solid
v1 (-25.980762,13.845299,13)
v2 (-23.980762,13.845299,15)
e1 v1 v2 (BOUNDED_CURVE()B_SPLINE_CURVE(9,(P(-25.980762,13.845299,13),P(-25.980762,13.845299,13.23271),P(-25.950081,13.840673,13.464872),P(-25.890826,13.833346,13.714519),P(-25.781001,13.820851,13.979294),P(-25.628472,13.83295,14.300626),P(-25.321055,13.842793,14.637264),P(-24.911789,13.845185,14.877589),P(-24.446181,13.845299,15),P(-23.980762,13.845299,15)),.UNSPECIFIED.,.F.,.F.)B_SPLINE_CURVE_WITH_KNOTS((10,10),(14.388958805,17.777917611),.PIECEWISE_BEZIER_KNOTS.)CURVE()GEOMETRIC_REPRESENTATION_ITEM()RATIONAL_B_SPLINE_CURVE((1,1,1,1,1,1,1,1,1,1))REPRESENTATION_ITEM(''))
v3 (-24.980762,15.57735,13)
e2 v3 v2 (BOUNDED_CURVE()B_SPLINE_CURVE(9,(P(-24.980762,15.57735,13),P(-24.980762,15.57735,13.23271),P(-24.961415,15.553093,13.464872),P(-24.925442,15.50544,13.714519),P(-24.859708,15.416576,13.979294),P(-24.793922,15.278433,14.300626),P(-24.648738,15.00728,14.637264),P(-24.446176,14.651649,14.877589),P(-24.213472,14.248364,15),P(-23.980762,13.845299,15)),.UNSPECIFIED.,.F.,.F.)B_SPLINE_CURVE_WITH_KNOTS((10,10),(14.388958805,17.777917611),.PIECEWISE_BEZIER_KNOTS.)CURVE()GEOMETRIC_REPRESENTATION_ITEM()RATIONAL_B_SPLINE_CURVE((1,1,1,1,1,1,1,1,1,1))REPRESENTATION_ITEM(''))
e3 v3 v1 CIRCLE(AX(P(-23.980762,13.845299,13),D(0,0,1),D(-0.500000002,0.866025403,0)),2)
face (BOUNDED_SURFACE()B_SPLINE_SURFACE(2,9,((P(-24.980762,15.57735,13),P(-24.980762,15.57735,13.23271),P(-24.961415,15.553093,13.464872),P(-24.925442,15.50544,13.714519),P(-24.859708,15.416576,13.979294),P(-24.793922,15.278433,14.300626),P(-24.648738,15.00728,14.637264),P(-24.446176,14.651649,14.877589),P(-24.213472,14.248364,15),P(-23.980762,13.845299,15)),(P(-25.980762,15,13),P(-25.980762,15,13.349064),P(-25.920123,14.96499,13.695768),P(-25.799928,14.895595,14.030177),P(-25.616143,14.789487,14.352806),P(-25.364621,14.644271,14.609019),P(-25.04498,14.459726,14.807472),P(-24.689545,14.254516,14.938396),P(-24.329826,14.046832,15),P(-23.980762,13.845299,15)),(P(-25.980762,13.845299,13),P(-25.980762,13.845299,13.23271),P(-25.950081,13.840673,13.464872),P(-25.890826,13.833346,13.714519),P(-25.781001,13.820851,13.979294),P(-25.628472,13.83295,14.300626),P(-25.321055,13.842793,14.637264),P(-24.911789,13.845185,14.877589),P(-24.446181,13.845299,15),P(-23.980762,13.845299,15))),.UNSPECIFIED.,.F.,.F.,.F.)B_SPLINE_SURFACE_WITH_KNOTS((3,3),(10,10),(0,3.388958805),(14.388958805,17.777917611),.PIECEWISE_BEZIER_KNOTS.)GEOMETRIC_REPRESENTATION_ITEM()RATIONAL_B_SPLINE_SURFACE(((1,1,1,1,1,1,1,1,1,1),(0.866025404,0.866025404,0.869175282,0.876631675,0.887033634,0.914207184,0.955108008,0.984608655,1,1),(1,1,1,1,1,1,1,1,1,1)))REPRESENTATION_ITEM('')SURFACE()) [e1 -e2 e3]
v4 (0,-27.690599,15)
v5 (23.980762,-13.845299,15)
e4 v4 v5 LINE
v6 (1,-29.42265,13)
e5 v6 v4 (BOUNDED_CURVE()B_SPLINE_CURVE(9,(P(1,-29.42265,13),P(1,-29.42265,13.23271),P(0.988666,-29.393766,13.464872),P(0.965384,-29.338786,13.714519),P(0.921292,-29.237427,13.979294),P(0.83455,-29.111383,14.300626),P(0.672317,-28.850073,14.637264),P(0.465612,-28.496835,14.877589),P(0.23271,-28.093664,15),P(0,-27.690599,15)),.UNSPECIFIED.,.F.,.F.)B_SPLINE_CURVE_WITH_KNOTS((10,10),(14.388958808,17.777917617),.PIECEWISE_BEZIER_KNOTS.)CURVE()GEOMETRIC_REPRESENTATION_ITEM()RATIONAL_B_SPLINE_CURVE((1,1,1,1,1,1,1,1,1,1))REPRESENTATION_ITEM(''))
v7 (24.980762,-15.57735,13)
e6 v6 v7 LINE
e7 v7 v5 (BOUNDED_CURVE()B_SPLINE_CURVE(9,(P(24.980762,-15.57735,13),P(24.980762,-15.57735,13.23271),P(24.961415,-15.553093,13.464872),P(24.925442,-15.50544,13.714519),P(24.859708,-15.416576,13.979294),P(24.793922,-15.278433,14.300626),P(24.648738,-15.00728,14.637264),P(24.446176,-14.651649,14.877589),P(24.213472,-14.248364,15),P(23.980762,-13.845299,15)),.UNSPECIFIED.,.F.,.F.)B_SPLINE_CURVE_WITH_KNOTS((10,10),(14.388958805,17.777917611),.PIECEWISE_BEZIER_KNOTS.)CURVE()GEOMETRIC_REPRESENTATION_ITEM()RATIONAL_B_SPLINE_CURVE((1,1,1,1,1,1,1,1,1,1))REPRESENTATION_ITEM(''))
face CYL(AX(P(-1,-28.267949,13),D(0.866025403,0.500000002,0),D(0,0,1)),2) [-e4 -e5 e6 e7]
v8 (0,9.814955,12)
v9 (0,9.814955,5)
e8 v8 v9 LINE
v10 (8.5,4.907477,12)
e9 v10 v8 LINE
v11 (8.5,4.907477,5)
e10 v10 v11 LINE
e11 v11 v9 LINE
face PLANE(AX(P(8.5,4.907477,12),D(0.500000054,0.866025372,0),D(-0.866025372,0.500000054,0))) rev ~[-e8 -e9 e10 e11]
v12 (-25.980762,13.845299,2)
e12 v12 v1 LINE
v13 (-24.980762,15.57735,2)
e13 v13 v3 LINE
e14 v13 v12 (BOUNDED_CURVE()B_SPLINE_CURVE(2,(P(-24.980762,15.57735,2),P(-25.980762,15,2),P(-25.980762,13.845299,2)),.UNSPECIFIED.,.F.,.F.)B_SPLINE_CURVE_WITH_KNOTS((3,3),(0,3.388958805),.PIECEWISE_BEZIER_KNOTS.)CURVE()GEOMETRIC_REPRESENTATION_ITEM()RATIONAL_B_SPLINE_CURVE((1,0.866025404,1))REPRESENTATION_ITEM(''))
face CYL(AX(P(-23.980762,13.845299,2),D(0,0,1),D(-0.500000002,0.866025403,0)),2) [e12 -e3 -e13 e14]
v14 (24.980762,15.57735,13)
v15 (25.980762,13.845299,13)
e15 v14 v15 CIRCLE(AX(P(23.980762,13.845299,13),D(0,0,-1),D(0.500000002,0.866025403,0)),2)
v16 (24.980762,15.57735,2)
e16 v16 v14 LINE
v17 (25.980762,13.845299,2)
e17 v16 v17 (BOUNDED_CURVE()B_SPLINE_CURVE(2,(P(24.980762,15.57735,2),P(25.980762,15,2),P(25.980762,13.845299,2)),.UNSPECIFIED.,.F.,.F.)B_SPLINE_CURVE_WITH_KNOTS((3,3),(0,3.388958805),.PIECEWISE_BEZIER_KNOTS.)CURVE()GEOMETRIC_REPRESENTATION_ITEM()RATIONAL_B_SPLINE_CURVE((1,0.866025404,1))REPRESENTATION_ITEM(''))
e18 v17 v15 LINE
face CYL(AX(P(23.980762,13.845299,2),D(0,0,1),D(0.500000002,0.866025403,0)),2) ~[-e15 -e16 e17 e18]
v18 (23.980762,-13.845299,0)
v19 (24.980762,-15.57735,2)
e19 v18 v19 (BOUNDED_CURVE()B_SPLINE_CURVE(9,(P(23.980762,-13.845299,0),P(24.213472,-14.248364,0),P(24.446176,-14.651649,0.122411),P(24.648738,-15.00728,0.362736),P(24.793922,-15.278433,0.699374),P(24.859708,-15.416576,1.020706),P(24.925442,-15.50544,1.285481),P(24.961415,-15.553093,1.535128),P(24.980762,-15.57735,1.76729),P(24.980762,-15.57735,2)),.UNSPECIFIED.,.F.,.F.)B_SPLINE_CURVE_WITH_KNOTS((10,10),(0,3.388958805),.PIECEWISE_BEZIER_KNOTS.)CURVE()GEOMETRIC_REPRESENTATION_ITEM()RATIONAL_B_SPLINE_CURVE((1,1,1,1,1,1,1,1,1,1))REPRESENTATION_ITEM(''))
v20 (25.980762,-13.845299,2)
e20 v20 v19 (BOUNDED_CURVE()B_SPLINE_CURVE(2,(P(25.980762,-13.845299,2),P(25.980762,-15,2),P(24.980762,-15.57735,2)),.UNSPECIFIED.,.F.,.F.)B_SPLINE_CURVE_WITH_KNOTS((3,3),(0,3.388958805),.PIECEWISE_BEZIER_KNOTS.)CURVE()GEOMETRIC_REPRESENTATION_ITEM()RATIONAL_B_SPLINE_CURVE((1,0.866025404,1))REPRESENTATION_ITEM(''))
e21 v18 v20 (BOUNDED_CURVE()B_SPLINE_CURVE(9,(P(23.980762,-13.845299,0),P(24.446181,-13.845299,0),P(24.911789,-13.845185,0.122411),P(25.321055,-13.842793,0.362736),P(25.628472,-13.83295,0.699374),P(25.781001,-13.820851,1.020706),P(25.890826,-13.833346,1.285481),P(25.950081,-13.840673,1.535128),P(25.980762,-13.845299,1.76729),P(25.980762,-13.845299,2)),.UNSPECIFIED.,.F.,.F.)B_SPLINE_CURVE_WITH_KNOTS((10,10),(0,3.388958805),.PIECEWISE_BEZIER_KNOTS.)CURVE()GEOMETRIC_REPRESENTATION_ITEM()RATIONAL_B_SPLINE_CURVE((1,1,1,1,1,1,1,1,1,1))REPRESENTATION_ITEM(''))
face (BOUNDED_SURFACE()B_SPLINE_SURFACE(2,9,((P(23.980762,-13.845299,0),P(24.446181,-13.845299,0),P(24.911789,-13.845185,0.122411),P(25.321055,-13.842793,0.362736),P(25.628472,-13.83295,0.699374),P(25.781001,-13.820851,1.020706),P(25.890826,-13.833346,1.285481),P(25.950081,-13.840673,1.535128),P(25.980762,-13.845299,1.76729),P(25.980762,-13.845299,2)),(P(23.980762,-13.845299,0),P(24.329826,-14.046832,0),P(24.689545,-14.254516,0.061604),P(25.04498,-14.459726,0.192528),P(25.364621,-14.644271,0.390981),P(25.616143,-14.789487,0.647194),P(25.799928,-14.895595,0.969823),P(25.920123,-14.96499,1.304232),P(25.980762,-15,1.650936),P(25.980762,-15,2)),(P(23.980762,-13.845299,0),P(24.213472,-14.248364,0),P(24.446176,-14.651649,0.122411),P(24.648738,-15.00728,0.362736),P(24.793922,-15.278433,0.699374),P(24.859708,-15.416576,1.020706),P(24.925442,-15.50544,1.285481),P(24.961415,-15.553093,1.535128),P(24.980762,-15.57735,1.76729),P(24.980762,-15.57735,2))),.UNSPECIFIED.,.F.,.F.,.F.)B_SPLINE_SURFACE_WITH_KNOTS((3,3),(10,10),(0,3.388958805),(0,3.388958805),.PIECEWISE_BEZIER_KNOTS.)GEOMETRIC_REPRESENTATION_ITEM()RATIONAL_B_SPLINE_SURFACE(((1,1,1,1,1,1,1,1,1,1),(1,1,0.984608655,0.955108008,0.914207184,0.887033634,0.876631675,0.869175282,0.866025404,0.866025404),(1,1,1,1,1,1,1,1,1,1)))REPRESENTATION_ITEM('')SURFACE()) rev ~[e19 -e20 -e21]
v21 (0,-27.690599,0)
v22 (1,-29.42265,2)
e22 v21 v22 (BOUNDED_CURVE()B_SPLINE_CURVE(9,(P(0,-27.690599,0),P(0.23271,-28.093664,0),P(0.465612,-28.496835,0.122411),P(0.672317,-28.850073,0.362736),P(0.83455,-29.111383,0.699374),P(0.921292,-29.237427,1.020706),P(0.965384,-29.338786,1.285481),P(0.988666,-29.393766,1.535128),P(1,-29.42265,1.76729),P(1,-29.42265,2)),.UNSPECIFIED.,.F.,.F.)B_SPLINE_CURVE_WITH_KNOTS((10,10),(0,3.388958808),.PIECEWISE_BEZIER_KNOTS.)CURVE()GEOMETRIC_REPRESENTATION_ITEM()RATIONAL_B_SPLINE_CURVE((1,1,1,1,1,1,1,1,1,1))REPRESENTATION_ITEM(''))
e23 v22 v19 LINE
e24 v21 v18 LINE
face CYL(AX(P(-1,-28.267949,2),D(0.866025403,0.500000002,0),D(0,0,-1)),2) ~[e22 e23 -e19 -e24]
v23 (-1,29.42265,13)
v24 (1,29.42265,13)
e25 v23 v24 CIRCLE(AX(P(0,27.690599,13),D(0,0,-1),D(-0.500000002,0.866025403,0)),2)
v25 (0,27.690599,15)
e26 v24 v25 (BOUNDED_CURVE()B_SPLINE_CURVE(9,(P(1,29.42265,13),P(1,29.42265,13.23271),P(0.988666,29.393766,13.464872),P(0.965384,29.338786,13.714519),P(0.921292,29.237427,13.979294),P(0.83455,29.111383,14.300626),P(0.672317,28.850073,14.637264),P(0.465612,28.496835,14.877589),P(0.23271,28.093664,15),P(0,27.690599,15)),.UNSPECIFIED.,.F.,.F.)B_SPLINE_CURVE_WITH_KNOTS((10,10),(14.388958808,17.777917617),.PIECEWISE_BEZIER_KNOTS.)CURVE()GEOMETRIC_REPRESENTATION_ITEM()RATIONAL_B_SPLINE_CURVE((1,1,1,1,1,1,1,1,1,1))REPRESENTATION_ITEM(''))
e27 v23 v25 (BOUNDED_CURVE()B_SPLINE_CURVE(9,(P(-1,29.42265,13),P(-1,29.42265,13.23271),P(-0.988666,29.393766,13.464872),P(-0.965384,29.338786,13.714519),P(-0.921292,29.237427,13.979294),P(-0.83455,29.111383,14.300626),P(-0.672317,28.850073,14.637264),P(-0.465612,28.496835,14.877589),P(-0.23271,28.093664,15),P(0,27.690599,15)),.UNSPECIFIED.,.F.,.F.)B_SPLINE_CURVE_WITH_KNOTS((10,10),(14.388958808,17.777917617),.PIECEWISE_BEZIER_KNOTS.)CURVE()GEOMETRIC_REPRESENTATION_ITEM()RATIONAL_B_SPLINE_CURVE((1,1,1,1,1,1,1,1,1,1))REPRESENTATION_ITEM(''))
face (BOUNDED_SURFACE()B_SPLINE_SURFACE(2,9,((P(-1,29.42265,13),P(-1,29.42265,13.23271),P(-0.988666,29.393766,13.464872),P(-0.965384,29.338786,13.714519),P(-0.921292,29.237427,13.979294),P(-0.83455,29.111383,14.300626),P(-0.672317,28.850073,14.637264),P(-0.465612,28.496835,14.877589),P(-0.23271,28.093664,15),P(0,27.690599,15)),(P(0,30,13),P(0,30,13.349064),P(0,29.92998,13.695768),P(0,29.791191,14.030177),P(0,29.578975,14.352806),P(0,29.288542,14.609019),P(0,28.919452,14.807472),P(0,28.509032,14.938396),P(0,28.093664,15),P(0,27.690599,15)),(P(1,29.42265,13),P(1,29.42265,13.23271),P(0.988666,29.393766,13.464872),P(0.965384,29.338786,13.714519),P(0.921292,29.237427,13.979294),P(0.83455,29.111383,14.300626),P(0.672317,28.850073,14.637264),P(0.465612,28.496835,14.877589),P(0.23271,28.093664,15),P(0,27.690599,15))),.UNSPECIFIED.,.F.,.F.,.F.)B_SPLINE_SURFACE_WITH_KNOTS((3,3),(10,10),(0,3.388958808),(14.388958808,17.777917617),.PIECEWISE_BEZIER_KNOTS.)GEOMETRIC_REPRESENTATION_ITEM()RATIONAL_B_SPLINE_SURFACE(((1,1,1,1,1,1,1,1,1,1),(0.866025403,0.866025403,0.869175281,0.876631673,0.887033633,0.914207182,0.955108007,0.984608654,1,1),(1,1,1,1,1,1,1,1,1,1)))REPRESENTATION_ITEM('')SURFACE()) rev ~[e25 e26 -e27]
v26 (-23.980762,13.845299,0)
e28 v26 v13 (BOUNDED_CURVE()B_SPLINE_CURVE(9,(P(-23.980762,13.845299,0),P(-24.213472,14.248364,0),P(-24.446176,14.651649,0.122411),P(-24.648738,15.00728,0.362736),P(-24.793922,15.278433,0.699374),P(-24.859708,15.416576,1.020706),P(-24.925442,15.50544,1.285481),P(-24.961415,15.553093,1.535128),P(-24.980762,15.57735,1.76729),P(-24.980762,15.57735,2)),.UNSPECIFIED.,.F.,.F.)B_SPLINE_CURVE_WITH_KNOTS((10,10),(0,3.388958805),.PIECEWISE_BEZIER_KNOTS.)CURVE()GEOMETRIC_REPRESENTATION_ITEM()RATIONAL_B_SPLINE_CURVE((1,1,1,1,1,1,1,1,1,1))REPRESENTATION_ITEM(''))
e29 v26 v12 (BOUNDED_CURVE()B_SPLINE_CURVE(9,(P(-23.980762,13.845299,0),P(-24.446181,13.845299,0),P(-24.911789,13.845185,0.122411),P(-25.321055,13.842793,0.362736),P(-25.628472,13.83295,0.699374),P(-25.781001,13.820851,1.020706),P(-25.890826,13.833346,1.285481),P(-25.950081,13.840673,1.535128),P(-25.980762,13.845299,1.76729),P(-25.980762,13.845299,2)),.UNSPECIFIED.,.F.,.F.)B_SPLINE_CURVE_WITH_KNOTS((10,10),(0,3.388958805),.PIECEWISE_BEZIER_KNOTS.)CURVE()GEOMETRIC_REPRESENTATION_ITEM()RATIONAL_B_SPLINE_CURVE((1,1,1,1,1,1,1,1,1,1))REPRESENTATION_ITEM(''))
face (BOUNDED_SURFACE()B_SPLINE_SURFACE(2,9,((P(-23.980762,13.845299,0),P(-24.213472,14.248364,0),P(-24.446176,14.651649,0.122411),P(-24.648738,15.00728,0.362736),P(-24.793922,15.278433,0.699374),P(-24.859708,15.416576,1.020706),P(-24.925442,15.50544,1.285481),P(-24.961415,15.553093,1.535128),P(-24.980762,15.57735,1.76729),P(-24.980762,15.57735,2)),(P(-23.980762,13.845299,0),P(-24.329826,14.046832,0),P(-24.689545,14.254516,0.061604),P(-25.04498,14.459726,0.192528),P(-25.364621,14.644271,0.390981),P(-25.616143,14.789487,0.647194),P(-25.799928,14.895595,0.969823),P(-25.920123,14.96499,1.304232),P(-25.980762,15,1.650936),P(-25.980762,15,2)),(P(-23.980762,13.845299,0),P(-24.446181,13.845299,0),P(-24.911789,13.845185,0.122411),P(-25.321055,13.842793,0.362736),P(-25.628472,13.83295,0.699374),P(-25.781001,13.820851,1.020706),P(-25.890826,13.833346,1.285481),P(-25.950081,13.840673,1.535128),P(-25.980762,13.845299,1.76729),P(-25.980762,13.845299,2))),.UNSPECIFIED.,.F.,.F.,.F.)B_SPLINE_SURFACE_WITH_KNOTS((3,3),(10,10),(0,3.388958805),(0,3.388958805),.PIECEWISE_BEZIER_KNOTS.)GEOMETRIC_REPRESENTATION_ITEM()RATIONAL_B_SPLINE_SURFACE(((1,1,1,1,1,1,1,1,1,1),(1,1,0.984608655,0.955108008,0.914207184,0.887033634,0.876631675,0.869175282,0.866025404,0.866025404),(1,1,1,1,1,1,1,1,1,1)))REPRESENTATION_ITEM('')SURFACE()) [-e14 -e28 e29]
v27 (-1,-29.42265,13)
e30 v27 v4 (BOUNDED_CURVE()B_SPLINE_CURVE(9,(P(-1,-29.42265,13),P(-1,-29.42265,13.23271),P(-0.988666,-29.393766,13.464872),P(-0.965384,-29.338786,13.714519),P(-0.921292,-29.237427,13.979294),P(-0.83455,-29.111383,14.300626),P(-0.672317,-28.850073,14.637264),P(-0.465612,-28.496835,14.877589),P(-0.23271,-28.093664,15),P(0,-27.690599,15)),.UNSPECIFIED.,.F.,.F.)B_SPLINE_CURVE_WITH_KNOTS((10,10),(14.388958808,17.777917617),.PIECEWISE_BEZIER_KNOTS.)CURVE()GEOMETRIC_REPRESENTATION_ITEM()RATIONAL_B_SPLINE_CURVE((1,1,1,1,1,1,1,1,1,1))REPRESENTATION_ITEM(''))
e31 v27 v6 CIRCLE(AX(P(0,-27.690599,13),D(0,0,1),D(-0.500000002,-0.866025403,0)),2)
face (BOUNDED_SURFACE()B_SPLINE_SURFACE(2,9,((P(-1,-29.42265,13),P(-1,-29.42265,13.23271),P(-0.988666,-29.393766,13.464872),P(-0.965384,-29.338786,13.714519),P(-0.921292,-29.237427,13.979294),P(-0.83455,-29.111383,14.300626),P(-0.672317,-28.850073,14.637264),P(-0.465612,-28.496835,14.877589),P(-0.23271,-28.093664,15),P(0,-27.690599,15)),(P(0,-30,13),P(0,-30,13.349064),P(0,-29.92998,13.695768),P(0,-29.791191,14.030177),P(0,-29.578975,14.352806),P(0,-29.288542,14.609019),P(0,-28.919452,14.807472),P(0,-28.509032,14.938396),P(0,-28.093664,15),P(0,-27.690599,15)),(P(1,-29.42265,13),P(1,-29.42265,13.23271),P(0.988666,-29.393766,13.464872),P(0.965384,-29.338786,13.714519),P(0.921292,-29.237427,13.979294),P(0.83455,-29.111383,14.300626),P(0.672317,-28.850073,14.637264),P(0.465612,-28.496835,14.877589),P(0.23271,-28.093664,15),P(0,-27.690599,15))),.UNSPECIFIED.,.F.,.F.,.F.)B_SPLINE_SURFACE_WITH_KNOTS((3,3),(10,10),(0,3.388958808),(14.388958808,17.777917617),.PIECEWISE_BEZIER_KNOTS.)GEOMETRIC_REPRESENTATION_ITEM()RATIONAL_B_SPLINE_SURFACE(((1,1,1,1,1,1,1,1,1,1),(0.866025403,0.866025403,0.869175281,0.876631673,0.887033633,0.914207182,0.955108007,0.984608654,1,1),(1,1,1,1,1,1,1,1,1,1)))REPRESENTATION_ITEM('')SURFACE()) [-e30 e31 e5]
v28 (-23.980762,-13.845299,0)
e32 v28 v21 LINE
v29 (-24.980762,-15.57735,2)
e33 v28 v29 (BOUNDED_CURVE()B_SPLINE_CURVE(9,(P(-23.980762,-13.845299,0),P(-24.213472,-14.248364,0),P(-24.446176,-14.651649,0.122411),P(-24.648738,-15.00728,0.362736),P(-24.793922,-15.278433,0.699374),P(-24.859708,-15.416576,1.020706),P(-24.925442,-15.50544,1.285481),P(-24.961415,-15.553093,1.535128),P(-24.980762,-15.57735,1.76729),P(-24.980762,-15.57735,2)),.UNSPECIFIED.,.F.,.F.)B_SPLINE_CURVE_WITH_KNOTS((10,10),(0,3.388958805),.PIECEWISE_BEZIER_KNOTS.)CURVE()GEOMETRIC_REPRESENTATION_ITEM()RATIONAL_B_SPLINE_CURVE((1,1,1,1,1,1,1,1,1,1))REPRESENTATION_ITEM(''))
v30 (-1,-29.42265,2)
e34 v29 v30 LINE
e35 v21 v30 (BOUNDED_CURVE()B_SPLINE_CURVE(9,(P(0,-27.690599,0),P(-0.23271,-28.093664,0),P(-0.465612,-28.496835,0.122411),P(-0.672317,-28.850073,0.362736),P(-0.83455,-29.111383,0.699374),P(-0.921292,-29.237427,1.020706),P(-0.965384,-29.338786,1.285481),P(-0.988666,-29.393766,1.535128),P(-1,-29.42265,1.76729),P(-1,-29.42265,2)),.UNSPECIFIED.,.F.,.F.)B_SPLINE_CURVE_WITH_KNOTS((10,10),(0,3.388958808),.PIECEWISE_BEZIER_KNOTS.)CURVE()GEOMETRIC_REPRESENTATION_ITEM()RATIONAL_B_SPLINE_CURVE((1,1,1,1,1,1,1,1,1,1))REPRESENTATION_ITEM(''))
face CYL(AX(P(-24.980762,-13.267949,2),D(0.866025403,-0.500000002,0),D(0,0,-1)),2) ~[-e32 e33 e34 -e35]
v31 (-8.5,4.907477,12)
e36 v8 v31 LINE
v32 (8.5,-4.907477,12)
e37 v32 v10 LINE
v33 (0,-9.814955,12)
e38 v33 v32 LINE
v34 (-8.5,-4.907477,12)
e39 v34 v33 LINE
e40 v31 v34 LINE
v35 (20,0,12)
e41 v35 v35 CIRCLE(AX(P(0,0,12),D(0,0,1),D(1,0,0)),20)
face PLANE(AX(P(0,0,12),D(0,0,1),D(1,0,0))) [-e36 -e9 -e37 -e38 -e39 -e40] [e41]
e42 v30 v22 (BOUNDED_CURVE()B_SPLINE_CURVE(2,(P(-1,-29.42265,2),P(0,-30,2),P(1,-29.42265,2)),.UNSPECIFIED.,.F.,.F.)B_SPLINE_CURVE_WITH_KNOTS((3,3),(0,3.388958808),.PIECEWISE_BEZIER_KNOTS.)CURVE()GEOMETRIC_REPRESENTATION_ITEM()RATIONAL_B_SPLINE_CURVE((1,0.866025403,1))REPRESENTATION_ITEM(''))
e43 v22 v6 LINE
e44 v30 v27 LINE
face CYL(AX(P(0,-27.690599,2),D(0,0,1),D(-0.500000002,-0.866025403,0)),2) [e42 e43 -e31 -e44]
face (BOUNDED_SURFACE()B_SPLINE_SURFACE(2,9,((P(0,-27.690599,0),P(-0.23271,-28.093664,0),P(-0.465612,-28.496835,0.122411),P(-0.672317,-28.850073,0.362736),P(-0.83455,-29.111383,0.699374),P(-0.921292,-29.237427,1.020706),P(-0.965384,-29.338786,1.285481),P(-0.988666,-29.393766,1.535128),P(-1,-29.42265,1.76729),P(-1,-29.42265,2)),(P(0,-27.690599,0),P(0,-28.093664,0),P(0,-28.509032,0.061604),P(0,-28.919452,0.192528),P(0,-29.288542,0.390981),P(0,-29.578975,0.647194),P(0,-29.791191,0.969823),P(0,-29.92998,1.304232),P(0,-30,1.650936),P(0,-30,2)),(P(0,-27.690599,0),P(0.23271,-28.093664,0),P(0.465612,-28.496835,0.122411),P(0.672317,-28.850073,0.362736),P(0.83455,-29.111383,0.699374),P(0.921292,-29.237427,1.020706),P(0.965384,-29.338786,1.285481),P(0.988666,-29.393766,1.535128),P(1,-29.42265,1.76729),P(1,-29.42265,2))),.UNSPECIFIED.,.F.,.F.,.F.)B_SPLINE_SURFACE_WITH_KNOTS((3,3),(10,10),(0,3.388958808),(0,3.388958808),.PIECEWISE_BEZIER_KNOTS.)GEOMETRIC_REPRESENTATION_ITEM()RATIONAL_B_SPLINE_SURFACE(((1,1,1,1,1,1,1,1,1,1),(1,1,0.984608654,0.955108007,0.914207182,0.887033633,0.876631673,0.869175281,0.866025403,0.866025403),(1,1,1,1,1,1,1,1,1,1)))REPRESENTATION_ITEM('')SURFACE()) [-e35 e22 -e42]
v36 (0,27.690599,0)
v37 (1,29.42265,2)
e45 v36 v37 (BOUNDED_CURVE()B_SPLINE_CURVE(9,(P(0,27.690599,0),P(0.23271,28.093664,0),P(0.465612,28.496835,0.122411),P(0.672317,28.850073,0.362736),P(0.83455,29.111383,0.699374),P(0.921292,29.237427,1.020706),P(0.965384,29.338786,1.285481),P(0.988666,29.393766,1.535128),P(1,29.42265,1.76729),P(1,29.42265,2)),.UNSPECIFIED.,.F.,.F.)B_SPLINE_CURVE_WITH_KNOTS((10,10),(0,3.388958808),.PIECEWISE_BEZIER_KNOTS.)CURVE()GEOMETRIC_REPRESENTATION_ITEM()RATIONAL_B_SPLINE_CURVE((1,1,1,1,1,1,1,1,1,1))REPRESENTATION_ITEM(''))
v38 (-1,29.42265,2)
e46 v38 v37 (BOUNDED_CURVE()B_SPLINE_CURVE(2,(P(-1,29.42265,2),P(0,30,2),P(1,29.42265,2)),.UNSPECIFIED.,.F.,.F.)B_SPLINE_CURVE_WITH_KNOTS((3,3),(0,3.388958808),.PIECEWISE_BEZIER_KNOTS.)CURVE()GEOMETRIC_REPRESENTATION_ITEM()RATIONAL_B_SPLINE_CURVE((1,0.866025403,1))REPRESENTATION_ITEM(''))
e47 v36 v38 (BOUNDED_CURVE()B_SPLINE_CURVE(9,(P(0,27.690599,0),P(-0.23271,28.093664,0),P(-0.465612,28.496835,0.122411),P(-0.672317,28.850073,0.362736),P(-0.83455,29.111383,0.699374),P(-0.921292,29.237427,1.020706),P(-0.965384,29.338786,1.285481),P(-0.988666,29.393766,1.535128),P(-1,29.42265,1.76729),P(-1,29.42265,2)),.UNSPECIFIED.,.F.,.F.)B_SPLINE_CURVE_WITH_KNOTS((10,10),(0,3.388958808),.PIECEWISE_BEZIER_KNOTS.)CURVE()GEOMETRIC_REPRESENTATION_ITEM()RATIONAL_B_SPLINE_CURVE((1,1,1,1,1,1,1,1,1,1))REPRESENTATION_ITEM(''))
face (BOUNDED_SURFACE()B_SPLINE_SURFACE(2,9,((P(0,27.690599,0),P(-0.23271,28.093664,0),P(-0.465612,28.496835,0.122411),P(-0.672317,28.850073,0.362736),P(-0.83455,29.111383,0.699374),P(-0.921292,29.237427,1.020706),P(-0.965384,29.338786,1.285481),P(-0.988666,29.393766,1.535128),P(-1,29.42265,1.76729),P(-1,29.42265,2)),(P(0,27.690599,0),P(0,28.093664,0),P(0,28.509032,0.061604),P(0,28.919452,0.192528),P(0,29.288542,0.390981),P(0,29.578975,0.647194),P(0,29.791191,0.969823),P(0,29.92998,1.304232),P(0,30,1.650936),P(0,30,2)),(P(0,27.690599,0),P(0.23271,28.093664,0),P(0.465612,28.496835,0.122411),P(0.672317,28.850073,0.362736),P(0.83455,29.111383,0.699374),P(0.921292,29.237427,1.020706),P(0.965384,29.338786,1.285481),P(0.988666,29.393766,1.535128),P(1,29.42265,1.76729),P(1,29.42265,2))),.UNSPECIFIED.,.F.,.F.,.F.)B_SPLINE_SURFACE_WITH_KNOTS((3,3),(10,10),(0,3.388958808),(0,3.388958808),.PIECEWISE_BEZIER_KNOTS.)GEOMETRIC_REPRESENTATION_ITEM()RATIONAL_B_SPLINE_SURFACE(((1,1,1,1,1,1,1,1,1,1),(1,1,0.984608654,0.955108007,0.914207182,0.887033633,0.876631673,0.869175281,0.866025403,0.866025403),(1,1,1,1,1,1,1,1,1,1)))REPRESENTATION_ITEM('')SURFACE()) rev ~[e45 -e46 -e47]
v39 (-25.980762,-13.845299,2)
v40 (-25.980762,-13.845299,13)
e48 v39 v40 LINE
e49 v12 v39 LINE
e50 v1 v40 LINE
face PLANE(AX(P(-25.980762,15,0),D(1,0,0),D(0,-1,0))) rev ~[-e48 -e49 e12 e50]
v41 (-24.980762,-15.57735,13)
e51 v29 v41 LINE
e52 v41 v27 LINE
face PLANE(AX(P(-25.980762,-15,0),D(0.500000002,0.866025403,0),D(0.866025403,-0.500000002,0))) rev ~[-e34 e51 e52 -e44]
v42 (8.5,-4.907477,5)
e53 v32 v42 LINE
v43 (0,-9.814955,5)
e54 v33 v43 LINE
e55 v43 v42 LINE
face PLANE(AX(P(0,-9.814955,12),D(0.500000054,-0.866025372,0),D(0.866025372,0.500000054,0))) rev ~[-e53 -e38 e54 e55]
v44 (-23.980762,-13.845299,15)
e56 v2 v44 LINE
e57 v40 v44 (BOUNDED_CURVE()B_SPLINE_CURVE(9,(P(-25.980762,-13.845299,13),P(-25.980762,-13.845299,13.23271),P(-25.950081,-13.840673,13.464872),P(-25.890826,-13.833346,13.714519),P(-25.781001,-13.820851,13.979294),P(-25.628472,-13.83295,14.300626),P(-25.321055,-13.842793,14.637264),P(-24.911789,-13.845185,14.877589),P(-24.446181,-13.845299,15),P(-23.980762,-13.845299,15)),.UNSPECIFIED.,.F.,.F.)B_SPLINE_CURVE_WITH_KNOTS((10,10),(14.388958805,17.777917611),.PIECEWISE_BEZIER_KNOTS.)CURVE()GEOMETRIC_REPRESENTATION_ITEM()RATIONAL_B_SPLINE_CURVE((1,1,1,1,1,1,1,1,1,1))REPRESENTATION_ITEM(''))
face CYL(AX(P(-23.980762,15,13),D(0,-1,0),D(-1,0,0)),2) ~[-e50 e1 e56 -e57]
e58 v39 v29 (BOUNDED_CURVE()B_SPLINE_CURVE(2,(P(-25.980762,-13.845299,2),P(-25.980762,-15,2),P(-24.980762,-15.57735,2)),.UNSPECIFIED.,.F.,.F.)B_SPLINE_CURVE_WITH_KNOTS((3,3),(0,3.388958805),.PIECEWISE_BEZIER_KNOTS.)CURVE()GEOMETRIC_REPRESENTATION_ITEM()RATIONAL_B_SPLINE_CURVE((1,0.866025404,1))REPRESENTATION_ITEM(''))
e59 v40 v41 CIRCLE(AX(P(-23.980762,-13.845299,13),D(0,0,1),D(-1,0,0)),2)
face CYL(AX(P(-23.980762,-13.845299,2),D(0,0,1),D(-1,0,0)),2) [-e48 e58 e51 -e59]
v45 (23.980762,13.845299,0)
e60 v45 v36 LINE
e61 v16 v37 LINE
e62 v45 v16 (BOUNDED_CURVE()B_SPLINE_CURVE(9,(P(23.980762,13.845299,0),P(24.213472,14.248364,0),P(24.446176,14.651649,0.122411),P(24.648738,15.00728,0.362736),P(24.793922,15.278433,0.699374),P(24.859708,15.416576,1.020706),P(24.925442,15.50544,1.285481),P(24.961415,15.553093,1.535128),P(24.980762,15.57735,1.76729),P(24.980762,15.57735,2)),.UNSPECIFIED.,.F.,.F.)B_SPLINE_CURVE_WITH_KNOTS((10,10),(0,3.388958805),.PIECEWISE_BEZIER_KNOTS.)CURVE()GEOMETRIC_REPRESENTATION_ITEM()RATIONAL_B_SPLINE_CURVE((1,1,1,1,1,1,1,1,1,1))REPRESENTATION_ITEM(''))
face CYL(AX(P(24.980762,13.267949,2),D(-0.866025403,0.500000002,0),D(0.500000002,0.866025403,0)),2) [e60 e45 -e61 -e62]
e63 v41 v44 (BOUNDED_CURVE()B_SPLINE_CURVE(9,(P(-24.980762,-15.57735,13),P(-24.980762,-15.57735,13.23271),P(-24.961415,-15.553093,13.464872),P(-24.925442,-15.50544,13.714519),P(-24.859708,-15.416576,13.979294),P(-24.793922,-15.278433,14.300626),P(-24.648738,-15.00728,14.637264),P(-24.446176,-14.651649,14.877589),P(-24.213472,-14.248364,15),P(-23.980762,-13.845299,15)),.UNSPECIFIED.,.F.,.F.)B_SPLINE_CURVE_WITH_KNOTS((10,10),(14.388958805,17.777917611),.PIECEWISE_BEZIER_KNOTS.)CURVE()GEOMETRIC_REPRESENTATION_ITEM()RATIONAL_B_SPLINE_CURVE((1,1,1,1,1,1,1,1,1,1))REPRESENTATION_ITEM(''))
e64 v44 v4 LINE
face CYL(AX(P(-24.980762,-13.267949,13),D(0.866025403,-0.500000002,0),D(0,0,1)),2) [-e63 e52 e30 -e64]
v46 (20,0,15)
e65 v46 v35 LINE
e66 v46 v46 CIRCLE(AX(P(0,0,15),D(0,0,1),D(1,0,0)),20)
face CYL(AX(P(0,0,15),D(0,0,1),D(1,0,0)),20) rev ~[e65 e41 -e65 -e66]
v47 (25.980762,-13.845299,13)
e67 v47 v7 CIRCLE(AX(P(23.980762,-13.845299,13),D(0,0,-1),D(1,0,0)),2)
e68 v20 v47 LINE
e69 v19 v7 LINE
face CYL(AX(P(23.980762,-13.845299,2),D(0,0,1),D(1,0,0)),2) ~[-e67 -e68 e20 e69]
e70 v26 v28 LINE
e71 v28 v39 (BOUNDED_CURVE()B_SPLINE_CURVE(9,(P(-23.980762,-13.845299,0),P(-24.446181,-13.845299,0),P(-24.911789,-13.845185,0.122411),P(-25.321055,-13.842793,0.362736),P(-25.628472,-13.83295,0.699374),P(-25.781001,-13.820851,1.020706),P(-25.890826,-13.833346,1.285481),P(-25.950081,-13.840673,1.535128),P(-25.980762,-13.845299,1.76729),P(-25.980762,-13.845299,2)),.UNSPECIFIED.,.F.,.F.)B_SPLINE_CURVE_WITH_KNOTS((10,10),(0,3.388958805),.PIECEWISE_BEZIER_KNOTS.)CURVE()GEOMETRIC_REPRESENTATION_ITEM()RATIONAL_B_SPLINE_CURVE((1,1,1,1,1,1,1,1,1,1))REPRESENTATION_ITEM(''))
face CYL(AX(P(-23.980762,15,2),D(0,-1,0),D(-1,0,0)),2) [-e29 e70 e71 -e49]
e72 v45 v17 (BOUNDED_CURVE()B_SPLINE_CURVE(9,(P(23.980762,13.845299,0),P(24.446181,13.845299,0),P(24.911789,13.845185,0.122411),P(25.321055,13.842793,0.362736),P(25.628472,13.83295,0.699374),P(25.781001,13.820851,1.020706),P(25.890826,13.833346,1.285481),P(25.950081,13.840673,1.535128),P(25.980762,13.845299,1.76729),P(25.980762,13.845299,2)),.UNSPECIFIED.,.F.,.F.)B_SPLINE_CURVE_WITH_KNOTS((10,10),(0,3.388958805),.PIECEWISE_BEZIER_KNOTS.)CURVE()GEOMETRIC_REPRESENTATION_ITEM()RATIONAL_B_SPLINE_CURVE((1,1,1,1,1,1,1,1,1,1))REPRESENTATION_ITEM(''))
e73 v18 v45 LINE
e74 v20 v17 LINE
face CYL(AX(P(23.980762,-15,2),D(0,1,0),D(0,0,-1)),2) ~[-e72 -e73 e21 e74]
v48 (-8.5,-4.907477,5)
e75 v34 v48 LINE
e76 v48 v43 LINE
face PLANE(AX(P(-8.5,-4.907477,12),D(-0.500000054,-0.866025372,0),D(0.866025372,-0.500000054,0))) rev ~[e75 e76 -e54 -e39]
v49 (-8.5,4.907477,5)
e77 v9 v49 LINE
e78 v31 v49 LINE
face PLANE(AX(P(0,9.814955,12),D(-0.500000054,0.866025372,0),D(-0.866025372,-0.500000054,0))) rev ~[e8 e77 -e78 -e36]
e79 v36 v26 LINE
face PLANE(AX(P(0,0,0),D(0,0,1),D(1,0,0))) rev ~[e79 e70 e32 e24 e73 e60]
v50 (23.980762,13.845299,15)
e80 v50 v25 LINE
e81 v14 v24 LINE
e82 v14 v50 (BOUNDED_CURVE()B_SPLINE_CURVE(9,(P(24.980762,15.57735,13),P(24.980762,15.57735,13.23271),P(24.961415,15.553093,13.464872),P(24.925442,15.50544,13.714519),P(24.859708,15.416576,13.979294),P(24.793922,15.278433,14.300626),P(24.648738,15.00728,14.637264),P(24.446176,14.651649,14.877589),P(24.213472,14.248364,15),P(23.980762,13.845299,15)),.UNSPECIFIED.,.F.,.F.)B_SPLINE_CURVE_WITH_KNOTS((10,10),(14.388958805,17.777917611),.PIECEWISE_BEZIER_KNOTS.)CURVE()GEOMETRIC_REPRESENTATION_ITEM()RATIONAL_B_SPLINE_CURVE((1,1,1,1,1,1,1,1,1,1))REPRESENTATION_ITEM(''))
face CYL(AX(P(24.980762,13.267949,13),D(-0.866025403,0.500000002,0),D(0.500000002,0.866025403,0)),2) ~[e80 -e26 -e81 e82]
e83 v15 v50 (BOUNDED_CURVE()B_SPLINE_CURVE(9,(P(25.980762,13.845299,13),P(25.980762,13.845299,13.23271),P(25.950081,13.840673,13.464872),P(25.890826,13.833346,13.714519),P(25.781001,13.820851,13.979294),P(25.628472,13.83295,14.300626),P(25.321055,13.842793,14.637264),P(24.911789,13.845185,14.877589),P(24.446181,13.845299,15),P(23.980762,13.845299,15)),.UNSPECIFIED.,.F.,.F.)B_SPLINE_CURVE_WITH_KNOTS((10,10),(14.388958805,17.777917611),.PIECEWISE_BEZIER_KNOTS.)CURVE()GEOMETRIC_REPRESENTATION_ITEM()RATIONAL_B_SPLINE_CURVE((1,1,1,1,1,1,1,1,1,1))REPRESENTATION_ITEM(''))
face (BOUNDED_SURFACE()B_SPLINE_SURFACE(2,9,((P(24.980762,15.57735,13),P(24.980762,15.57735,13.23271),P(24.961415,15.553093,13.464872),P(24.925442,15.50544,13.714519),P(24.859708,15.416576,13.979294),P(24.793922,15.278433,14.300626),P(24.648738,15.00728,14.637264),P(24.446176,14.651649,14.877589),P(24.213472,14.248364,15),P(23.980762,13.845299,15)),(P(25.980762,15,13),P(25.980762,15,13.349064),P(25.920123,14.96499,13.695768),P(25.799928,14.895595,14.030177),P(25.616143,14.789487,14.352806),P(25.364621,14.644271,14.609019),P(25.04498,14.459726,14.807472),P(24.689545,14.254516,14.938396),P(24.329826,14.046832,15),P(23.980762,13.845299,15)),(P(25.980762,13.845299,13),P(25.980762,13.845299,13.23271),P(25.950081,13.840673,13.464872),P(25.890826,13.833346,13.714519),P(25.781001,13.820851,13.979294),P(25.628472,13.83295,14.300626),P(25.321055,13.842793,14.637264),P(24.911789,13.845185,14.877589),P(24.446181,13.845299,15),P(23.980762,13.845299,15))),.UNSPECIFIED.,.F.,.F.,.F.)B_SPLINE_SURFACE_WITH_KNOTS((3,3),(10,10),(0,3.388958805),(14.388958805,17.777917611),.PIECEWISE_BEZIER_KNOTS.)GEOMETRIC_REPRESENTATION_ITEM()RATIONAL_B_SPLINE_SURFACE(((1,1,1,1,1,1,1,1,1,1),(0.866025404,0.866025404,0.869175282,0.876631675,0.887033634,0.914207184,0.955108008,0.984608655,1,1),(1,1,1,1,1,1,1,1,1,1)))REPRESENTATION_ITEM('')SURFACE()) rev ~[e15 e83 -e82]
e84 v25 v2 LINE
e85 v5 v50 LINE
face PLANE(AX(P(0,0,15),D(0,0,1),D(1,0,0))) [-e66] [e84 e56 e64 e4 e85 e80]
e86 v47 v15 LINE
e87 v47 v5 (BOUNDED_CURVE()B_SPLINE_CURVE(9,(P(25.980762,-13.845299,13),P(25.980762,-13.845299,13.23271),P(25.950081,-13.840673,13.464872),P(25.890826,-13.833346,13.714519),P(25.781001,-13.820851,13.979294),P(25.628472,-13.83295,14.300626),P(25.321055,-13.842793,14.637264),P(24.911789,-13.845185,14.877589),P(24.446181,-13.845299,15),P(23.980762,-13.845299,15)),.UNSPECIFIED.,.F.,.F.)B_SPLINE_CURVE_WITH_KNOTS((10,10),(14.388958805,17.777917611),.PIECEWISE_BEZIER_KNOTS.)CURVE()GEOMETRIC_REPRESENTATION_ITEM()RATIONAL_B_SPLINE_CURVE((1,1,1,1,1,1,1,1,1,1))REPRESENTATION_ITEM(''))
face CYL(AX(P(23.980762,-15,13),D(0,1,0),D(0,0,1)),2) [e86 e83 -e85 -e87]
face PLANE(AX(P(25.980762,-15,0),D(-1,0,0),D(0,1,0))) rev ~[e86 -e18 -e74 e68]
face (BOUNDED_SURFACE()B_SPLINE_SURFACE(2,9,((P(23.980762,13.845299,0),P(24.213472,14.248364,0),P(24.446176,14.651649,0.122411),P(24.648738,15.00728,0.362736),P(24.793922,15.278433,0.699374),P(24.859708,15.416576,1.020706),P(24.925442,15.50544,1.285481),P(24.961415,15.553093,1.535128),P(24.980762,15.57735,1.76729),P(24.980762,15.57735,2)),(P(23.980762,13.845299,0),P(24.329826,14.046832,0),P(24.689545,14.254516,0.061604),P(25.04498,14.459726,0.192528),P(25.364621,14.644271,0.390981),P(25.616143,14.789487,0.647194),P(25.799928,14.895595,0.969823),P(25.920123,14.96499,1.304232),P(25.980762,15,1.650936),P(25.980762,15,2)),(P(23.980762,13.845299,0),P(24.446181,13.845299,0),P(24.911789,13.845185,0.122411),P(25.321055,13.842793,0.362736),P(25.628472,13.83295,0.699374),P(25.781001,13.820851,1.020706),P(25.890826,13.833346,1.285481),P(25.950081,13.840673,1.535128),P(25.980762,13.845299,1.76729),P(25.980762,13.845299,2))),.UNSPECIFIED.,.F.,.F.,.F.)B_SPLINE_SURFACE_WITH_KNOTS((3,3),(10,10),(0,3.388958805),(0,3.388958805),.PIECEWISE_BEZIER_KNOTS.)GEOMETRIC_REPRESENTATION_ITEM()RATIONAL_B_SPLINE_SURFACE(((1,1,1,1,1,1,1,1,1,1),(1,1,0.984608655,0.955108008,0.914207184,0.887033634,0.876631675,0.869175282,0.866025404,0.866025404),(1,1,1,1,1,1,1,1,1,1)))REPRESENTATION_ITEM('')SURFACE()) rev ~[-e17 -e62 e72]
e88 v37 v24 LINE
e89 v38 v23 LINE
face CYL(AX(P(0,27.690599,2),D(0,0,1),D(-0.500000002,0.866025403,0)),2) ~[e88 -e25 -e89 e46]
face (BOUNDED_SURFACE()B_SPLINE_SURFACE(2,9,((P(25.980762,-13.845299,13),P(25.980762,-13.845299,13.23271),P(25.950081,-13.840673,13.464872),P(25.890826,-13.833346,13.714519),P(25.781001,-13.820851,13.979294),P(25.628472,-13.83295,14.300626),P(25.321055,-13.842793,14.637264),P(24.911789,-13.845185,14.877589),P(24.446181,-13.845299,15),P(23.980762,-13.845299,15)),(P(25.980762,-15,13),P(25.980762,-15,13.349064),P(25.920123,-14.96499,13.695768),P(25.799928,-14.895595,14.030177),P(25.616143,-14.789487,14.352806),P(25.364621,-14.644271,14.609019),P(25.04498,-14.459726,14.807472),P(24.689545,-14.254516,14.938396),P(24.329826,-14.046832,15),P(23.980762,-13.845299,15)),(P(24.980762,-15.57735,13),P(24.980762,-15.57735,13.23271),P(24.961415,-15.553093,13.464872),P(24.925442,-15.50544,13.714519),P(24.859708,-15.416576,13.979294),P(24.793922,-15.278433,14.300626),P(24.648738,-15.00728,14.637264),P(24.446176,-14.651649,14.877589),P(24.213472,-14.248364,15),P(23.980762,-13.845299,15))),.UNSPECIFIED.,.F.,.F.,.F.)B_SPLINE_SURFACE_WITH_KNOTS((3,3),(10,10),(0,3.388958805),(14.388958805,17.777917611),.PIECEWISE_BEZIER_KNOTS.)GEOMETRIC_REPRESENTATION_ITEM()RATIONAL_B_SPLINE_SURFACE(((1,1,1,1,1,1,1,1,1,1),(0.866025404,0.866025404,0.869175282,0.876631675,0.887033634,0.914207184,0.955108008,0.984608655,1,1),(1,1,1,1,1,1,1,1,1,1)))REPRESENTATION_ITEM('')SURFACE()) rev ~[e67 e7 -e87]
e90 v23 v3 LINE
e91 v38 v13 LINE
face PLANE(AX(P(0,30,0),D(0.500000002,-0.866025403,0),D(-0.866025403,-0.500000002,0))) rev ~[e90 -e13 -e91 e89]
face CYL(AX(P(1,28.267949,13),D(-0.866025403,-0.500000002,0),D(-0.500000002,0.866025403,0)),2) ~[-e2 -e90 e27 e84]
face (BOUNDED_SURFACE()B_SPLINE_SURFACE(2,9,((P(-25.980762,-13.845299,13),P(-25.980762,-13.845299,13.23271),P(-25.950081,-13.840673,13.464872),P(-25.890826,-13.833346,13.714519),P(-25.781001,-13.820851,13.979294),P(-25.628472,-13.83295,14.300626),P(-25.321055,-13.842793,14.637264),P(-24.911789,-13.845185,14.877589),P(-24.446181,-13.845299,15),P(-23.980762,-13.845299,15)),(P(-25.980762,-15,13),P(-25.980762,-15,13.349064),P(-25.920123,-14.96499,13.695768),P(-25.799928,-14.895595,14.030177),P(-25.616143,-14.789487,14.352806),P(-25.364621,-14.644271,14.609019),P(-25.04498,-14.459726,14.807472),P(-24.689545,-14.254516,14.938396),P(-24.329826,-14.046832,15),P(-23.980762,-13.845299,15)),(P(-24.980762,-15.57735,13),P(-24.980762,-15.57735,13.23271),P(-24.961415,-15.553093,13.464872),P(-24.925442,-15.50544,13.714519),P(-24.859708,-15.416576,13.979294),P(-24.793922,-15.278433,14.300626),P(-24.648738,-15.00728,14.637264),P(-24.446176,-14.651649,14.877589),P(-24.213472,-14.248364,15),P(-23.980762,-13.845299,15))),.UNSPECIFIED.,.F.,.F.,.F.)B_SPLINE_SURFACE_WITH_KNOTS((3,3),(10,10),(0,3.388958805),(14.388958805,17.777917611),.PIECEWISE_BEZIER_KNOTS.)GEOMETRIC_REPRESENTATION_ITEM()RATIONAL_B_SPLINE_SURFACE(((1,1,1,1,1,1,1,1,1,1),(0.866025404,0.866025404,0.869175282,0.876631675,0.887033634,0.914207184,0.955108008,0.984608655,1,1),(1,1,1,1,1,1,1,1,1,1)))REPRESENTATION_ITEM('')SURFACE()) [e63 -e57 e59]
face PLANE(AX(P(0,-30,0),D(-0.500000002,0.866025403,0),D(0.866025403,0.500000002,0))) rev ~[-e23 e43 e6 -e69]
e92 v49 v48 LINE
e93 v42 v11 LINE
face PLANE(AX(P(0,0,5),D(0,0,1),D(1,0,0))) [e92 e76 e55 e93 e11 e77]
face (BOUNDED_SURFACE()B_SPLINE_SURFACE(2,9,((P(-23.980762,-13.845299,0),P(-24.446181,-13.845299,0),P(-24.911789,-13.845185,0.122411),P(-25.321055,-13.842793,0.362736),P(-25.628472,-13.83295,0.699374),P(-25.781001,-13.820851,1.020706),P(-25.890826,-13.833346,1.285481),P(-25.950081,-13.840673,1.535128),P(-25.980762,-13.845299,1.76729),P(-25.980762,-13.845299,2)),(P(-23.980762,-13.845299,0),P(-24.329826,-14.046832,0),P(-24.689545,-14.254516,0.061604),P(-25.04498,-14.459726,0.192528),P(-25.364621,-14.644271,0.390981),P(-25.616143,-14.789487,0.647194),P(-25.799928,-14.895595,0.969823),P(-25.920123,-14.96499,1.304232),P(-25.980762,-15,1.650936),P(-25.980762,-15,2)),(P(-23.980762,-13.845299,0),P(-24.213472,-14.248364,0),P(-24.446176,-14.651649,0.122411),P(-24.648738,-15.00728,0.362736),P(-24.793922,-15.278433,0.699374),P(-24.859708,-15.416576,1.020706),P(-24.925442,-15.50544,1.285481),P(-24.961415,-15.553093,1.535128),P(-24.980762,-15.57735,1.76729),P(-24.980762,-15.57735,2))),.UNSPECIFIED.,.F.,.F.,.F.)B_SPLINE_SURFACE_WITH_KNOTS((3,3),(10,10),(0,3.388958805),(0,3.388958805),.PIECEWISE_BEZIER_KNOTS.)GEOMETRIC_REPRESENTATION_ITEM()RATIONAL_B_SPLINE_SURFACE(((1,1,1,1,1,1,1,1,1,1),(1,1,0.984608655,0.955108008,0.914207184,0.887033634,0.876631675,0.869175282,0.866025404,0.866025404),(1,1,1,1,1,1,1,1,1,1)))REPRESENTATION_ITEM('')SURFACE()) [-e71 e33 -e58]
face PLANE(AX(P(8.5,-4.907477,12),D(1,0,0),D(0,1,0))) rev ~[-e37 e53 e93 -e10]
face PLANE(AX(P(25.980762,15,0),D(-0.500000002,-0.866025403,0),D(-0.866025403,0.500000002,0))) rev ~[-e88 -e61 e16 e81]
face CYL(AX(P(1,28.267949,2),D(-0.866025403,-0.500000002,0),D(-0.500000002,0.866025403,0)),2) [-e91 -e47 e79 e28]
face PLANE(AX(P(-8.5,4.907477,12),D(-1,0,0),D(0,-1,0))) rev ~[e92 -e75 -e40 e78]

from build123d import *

# Parameters (mm, degrees)
PAD_DEPTH       = 15
SKETCH002_R     = 20
POCKET_DEPTH    = 3
POCKET001_DEPTH = 7
FILLET_R        = 2
FILLET001_R     = 2


with BuildPart() as part:
    # Sketch → Pad (new body)
    with BuildSketch(Plane.XY):
        Polygon((0, 30), (-25.980762, 15), (-25.980762, -15), (0, -30), (25.980762, -15), (25.980762, 15), align=None)
    extrude(amount=PAD_DEPTH)

    # Sketch002 (on Face8 of Pad) → Pocket (cut)
    with BuildSketch(Plane.XY.offset(15)):
        Circle(SKETCH002_R)
    extrude(amount=-POCKET_DEPTH, mode=Mode.SUBTRACT)

    # Sketch003 (on Face10 of Pocket) → Pocket001 (cut)
    with BuildSketch(Plane.XY.offset(12)):
        Polygon((0, 9.814955), (-8.5, 4.907477), (-8.5, -4.907477), (0, -9.814955), (8.5, -4.907477), (8.5, 4.907477), align=None)
    extrude(amount=-POCKET001_DEPTH, mode=Mode.SUBTRACT)

    # Fillet
    fillet_edges = [part.edges().sort_by_distance(p)[0] for p in [
        (25.980762, 0, 15),
        (12.990381, -22.5, 15),
        (-12.990381, -22.5, 15),
        (-25.980762, 0, 15),
        (-12.990381, 22.5, 15),
        (12.990381, 22.5, 15),
        (25.980762, 0, 0),
        (12.990381, -22.5, 0),
        (-12.990381, -22.5, 0),
        (12.990381, 22.5, 0),
        (-12.990381, 22.5, 0),
        (-25.980762, 0, 0),
    ]]
    fillet(fillet_edges, radius=FILLET_R)

    # Fillet001
    fillet001_edges = [part.edges().sort_by_distance(p)[0] for p in [
        (0, 30, 7.5),
        (-25.980762, 15, 7.5),
        (-25.980762, -15, 7.5),
        (0, -30, 7.5),
        (25.980762, -15, 7.5),
        (25.980762, 15, 7.5),
    ]]
    fillet(fillet001_edges, radius=FILLET001_R)


solid = part.part
